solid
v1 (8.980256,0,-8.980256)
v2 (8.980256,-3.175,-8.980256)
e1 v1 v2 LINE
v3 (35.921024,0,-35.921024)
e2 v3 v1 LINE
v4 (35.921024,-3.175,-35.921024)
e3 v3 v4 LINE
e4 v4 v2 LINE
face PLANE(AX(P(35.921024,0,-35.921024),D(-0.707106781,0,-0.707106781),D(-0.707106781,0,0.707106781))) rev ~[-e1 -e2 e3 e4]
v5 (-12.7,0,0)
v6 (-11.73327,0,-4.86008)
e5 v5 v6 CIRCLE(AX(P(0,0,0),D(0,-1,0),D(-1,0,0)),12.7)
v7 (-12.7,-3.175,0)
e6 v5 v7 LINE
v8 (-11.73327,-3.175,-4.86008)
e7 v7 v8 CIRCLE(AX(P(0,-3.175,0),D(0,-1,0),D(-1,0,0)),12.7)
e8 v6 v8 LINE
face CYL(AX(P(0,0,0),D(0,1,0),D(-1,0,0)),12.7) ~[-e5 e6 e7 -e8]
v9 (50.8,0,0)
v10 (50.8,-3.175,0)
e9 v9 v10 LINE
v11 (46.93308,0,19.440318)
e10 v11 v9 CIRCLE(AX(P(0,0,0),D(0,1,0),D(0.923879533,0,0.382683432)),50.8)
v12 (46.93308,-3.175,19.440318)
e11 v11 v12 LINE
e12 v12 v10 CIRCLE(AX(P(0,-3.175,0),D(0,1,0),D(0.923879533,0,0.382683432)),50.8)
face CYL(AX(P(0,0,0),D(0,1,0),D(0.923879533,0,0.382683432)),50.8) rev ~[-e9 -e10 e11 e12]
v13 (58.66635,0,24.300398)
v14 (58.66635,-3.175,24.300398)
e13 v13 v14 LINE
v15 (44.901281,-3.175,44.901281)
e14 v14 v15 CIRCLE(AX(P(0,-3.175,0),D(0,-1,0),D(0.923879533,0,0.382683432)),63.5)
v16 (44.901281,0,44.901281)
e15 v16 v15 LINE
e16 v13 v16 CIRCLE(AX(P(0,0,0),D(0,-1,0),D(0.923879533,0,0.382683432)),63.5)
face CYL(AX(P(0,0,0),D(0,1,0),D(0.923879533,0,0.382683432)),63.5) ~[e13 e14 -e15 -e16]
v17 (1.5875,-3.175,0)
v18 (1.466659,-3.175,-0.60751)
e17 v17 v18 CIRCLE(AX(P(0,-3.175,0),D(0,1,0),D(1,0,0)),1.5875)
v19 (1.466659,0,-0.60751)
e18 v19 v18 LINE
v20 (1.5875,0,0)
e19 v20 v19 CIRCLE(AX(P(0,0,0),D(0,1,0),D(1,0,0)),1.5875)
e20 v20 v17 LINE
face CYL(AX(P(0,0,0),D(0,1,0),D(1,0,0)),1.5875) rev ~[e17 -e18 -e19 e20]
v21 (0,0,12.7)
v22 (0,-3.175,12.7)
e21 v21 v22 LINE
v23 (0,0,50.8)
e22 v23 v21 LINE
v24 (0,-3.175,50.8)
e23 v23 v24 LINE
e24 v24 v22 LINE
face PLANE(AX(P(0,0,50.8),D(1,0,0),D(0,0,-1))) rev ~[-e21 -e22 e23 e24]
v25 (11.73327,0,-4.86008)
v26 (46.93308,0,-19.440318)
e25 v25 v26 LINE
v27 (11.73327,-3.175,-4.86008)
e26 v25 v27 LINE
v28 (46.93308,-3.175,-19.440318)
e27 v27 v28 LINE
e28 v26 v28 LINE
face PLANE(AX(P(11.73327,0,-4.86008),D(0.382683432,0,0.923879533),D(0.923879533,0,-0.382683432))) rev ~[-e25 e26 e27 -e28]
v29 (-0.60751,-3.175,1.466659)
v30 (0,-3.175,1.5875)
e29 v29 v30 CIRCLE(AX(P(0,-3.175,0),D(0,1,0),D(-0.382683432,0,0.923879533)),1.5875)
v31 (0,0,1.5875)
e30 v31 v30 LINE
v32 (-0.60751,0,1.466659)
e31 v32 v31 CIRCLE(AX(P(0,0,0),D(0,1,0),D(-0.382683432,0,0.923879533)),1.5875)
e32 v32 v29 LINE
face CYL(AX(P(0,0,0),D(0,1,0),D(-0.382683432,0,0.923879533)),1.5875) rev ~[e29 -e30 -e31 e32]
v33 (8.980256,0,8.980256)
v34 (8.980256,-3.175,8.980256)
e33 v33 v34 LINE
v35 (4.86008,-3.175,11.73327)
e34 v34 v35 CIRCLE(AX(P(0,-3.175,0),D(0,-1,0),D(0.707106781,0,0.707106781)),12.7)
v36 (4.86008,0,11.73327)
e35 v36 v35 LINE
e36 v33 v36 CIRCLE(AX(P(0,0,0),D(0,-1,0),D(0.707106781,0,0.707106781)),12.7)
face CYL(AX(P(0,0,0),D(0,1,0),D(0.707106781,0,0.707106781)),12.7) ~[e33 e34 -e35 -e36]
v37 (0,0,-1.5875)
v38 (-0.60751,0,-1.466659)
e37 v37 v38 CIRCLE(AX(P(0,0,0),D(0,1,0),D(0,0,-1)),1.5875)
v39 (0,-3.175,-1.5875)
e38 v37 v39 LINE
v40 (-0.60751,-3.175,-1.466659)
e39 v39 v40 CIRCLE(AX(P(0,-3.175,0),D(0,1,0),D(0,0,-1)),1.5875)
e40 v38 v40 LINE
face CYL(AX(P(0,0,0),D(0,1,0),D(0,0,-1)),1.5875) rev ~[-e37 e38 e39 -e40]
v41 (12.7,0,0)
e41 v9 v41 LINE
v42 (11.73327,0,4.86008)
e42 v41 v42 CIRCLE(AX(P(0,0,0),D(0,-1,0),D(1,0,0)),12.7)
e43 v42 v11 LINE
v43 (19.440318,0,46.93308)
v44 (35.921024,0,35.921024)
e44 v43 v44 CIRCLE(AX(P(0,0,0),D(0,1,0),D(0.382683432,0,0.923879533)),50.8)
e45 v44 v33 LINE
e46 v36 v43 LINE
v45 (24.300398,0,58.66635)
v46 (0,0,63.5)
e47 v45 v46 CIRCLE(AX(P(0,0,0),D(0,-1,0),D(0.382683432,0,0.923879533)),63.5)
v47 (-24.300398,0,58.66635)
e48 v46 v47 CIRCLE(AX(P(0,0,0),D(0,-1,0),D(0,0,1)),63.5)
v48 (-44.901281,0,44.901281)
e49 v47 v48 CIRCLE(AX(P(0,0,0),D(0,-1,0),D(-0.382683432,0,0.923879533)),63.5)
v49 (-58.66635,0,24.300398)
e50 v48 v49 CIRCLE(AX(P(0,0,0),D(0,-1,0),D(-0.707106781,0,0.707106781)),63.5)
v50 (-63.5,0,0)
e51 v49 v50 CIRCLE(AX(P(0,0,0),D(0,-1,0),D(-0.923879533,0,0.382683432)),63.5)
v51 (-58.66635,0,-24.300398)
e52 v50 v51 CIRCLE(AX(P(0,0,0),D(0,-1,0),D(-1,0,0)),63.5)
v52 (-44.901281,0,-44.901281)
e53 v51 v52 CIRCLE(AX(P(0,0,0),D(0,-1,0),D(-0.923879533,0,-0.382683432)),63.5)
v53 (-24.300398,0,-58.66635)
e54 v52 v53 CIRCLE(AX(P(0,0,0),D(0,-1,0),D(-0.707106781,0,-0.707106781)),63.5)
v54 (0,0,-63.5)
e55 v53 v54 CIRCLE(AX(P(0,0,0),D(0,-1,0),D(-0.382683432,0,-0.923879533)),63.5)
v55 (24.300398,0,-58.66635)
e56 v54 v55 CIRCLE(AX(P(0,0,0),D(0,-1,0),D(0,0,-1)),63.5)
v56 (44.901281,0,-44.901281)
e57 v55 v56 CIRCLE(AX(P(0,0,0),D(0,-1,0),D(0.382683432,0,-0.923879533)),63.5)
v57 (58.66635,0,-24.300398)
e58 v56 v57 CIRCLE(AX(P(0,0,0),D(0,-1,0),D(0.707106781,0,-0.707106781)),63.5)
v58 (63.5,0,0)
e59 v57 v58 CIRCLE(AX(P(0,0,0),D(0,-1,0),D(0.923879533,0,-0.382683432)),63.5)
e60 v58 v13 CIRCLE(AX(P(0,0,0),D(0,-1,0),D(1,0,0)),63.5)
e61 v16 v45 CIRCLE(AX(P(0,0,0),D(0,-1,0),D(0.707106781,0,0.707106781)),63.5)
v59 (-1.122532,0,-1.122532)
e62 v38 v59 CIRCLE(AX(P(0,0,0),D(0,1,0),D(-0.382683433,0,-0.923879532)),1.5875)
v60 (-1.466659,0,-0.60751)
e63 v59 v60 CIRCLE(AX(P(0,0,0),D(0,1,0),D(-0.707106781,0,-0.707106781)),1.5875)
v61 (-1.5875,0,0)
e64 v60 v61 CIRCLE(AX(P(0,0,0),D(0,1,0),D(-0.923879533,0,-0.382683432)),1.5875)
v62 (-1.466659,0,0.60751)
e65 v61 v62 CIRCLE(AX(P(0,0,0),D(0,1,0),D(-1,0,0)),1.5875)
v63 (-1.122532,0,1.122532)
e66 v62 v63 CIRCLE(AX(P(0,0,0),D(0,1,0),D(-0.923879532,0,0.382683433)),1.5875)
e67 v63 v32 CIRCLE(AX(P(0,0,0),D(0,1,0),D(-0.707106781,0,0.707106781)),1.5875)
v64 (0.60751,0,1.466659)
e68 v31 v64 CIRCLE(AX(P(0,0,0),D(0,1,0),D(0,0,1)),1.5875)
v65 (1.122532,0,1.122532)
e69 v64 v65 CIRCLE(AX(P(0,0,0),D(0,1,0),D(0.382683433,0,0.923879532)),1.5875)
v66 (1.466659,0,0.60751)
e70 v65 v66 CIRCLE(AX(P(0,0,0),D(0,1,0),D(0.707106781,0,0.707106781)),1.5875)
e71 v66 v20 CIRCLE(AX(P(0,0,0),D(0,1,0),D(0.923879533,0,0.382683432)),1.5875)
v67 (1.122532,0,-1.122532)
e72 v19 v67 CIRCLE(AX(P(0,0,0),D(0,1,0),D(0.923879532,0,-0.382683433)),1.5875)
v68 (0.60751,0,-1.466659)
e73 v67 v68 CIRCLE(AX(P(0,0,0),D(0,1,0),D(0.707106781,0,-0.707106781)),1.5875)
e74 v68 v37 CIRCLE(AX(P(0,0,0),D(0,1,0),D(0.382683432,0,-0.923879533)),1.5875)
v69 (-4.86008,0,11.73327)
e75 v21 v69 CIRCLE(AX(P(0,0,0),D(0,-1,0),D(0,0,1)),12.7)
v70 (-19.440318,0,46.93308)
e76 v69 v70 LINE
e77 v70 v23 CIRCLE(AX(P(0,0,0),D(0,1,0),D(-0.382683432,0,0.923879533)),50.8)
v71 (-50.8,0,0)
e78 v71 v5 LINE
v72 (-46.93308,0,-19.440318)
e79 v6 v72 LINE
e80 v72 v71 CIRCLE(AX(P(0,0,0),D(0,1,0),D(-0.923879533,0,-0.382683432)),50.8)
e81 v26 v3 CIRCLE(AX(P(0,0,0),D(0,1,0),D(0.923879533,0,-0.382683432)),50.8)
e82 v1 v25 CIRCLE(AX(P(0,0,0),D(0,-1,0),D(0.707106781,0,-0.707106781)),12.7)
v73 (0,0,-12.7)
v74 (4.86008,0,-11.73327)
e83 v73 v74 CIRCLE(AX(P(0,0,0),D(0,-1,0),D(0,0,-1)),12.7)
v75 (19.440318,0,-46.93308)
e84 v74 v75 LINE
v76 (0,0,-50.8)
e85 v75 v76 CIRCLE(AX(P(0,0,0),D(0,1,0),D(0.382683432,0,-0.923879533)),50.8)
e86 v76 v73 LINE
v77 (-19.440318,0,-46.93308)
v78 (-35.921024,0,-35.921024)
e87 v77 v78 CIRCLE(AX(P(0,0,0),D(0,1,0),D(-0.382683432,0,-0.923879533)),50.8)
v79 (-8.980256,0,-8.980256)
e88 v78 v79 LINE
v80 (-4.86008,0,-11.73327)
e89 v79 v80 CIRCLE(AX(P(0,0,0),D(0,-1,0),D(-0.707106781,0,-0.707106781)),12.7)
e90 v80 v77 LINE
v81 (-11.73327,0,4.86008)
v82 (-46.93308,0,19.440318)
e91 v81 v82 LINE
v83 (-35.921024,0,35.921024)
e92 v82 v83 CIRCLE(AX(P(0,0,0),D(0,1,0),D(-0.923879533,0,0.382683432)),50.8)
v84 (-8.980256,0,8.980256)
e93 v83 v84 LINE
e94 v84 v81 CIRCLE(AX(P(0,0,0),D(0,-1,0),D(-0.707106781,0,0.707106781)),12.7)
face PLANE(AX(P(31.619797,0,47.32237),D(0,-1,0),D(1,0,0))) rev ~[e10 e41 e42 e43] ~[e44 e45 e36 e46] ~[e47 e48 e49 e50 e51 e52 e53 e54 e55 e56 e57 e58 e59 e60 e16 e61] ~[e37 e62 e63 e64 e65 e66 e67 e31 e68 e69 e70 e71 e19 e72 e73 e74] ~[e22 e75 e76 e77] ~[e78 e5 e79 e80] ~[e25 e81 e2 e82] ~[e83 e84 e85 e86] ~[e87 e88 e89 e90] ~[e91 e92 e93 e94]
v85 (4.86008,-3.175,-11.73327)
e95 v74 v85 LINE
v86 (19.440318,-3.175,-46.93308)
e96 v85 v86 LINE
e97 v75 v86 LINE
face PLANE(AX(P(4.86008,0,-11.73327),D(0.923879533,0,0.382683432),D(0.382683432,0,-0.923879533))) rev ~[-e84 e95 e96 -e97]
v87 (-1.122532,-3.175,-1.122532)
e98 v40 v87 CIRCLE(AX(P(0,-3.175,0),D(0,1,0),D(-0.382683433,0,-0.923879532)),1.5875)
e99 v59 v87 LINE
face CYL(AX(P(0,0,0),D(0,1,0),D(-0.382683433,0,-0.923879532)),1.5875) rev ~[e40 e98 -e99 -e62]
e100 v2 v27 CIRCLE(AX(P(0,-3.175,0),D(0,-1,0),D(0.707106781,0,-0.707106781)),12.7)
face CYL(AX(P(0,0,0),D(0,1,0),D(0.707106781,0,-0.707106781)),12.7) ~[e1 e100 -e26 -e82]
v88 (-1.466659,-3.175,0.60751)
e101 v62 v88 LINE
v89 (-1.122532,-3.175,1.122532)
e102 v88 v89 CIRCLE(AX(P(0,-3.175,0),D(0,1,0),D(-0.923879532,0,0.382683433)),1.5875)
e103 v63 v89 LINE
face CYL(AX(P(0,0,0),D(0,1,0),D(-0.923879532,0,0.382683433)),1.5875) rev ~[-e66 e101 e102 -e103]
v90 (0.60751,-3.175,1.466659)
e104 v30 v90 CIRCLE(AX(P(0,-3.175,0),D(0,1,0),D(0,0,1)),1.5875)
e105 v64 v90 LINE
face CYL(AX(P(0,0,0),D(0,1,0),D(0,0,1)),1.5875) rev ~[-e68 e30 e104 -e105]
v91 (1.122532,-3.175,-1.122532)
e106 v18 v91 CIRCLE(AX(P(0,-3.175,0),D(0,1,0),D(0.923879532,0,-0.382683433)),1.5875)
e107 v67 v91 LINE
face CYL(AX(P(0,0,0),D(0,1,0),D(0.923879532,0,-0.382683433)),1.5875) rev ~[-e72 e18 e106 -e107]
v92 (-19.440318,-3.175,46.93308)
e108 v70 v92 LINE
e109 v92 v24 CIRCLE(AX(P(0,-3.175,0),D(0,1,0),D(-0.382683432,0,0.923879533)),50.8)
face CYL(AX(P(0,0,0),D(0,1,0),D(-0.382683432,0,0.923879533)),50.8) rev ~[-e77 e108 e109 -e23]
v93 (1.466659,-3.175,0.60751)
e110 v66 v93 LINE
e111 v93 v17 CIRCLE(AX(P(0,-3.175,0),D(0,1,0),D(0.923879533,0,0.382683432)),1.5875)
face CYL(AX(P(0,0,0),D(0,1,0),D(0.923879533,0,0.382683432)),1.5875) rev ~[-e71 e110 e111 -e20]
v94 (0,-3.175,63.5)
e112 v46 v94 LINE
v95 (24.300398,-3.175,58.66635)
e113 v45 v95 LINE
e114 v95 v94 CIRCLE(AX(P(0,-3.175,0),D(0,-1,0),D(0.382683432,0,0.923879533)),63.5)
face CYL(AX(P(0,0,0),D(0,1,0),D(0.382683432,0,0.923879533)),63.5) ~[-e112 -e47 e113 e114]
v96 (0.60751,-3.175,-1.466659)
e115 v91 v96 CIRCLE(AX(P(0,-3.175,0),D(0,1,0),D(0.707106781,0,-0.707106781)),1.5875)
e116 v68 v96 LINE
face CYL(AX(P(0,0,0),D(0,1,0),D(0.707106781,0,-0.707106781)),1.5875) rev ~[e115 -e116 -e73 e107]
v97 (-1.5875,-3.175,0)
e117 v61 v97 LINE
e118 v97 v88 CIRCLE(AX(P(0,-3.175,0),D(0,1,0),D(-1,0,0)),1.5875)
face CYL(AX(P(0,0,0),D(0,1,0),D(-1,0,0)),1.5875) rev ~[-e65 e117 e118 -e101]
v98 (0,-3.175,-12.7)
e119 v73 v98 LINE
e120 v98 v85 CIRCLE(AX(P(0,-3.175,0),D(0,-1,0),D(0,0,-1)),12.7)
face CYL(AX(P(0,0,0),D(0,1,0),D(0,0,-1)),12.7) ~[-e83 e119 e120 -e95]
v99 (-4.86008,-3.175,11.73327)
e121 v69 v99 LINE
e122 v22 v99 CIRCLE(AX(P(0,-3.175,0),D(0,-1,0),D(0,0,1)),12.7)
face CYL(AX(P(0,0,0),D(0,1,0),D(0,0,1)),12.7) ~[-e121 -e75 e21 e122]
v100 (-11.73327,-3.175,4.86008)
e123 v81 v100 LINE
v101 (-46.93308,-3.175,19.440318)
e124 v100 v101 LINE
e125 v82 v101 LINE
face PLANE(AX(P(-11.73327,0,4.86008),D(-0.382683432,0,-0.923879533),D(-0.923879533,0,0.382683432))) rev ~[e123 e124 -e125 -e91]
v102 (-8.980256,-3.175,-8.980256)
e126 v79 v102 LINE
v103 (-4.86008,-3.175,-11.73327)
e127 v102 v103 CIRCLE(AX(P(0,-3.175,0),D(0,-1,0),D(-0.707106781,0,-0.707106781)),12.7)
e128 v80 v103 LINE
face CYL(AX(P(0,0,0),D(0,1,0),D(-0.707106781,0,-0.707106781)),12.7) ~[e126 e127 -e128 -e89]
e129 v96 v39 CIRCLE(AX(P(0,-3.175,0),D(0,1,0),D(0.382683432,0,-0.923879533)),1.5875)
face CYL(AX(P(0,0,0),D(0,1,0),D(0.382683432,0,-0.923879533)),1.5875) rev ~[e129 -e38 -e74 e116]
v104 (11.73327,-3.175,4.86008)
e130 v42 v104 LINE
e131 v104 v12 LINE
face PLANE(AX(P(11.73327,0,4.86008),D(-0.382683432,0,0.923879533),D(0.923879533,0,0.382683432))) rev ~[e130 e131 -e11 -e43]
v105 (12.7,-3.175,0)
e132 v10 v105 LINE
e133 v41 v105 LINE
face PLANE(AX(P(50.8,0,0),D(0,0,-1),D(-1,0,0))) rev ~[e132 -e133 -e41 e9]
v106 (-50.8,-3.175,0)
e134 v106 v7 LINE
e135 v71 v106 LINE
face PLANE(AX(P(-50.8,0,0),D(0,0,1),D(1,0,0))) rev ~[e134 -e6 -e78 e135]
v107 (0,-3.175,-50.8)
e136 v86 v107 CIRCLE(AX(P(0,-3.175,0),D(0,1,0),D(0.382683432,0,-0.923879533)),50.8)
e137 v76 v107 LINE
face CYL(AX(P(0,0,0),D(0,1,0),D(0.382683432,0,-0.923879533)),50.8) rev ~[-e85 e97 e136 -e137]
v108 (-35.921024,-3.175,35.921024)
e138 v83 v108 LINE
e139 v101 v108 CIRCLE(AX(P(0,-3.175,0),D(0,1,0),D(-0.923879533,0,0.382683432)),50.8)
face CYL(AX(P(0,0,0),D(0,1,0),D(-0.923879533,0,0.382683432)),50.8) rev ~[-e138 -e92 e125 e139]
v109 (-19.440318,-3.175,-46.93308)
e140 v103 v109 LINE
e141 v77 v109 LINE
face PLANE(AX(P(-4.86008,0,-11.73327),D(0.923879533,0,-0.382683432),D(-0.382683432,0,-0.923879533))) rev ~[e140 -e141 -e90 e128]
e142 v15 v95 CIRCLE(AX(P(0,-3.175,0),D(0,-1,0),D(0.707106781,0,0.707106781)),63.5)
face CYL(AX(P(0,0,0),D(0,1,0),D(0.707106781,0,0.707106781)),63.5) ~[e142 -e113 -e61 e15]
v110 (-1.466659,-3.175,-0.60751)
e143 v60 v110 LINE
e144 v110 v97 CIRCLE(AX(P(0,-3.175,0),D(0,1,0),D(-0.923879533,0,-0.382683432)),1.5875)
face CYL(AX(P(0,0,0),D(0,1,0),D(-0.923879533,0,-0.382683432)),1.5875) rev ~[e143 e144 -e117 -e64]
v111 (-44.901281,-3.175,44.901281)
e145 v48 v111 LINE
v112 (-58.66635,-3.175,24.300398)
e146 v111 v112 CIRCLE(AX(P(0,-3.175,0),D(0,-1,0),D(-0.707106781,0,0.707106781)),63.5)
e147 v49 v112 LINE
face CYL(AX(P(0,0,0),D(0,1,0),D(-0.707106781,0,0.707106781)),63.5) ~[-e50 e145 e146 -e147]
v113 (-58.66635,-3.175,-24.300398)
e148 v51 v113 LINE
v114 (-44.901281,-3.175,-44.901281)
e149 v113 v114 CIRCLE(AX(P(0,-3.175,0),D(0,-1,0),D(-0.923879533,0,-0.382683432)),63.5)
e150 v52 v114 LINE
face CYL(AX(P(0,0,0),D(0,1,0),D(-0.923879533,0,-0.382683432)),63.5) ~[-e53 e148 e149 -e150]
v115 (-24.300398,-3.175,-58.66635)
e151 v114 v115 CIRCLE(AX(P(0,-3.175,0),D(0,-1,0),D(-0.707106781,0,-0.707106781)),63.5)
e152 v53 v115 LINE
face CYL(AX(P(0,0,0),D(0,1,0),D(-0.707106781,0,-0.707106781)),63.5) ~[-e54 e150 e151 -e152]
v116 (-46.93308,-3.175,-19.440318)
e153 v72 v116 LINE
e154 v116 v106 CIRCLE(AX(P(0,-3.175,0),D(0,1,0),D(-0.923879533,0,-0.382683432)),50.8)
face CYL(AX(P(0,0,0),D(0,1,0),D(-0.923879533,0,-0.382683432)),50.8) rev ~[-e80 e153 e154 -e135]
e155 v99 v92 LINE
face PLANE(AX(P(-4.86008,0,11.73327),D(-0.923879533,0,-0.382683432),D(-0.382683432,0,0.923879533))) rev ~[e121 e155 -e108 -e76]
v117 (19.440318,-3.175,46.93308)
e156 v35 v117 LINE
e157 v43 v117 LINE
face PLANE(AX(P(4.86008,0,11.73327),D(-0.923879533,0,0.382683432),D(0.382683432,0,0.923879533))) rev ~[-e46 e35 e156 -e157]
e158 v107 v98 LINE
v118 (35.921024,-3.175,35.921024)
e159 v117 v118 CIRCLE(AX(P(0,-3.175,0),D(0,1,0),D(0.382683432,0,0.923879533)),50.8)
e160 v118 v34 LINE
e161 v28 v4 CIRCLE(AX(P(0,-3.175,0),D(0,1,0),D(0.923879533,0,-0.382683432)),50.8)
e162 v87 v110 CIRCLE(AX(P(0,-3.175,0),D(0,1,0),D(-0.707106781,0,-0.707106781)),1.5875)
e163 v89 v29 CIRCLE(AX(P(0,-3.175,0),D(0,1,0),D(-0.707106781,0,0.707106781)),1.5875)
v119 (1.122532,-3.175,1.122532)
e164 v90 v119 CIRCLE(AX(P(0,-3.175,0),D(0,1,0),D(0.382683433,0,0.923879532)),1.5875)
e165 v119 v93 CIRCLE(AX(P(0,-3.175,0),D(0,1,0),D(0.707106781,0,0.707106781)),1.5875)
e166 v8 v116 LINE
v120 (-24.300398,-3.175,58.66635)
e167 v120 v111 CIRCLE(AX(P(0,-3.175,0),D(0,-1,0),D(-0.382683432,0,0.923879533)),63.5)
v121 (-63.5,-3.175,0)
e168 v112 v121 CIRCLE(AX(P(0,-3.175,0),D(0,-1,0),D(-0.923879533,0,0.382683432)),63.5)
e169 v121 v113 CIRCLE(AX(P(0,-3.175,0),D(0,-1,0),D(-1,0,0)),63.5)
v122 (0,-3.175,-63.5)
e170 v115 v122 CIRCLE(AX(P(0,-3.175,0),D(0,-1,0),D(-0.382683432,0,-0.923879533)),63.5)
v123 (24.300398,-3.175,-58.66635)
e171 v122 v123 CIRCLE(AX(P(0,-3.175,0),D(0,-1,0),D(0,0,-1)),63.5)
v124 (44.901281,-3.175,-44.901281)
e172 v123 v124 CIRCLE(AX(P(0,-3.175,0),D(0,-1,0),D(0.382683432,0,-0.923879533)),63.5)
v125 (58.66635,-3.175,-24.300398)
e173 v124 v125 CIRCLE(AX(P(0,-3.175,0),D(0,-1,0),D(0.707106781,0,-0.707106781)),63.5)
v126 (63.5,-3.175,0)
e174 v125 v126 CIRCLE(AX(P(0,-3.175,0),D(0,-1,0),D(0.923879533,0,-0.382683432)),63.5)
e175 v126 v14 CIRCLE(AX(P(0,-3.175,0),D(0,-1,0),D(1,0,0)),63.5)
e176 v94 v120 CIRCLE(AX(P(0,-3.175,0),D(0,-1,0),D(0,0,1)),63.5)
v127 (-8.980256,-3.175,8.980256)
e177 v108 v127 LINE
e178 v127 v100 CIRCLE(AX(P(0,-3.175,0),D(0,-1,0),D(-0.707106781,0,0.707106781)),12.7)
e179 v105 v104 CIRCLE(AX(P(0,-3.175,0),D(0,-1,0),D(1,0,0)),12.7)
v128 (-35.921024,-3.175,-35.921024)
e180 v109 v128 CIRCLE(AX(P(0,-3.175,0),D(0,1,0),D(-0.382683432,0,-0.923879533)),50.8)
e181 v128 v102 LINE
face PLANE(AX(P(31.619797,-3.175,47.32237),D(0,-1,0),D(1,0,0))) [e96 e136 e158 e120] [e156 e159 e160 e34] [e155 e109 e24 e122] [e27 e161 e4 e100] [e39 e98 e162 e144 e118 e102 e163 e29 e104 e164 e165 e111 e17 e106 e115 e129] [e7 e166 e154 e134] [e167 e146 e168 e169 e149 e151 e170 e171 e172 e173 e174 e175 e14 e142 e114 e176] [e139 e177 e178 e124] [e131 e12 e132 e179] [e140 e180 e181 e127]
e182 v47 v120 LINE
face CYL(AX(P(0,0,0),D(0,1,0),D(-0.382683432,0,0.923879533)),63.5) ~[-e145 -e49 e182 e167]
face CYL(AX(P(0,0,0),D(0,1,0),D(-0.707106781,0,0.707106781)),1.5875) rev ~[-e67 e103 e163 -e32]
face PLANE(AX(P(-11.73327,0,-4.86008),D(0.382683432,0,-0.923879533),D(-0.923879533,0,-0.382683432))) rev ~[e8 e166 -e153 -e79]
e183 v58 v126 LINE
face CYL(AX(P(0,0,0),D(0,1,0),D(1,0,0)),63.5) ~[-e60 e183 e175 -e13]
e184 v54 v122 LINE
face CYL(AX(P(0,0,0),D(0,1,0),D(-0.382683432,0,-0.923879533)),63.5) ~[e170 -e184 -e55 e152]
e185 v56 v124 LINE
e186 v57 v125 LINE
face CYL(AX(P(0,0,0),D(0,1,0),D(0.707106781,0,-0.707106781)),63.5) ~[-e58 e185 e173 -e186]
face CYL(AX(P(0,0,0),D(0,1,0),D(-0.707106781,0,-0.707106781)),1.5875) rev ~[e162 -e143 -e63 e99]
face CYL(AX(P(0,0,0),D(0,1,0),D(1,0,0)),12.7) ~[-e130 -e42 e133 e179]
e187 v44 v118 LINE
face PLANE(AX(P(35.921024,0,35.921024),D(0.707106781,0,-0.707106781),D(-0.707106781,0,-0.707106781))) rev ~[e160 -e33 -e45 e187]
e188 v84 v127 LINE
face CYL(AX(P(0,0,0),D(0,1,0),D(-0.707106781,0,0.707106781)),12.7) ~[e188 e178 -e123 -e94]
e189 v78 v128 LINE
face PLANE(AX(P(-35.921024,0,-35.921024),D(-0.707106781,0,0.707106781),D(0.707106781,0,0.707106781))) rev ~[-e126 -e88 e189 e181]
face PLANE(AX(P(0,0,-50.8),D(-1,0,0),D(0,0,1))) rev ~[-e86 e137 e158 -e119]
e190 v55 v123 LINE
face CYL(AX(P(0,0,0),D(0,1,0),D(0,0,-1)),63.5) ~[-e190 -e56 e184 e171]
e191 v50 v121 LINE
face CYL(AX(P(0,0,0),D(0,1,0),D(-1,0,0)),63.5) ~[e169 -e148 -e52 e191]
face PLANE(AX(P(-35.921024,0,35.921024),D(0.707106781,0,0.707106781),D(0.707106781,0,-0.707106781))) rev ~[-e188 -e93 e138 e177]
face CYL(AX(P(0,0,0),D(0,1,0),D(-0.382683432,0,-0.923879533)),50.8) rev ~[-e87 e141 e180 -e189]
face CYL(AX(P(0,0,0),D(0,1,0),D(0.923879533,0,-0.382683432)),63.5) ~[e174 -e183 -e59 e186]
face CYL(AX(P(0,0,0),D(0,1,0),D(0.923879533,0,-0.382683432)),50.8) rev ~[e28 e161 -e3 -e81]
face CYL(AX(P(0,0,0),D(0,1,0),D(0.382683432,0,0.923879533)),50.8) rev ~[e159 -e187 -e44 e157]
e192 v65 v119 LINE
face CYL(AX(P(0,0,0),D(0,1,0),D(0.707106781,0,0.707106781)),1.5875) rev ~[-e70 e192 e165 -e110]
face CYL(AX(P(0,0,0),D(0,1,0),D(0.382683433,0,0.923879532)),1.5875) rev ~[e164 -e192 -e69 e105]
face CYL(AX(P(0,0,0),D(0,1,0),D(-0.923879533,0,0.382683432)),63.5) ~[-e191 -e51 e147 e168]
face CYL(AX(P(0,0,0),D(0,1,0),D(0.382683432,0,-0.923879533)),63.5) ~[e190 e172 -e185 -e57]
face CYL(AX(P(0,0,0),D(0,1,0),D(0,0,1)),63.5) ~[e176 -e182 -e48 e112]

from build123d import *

# Parameters (mm, degrees)
F1_DEPTH = 3.175


with BuildPart() as f1:
    # F0 (on Front) → F1 (new body)
    with BuildSketch(Plane.XZ):
        with BuildLine():
            Line((35.9210244843, 35.9210244843), (44.9012806053, 44.9012806053))
            ThreePointArc((44.9012806053, 44.9012806053), (35.2787097967, 52.7983203812), (24.3003979552, 58.6663503145))
            Line((24.3003979552, 58.6663503145), (19.4403183641, 46.9330802516))
            ThreePointArc((19.4403183641, 46.9330802516), (28.2229678374, 42.238656305), (35.9210244843, 35.9210244843))
        make_face()
        with BuildLine():
            Line((0, 50.8), (0, 63.5))
            ThreePointArc((0, 63.5), (-12.388235448, 62.2798653056), (-24.3003979552, 58.6663503145))
            Line((-24.3003979552, 58.6663503145), (-19.4403183641, 46.9330802516))
            ThreePointArc((-19.4403183641, 46.9330802516), (-9.9105883584, 49.8238922445), (0, 50.8))
        make_face()
        with BuildLine():
            Line((-35.9210244843, 35.9210244843), (-44.9012806053, 44.9012806053))
            ThreePointArc((-44.9012806053, 44.9012806053), (-52.7983203812, 35.2787097967), (-58.6663503145, 24.3003979552))
            Line((-58.6663503145, 24.3003979552), (-46.9330802516, 19.4403183641))
            ThreePointArc((-46.9330802516, 19.4403183641), (-42.238656305, 28.2229678374), (-35.9210244843, 35.9210244843))
        make_face()
        with BuildLine():
            Line((50.8, 0), (63.5, 0))
            ThreePointArc((63.5, 0), (62.2798653056, 12.388235448), (58.6663503145, 24.3003979552))
            Line((58.6663503145, 24.3003979552), (46.9330802516, 19.4403183641))
            ThreePointArc((46.9330802516, 19.4403183641), (49.8238922445, 9.9105883584), (50.8, 0))
        make_face()
        with BuildLine():
            ThreePointArc((-44.9012806053, -44.9012806053), (-35.2787097967, -52.7983203812), (-24.3003979552, -58.6663503145))
            Line((-24.3003979552, -58.6663503145), (-19.4403183641, -46.9330802516))
            ThreePointArc((-19.4403183641, -46.9330802516), (-28.2229678374, -42.238656305), (-35.9210244843, -35.9210244843))
            Line((-35.9210244843, -35.9210244843), (-44.9012806053, -44.9012806053))
        make_face()
        with BuildLine():
            ThreePointArc((0, -63.5), (12.388235448, -62.2798653056), (24.3003979552, -58.6663503145))
            Line((24.3003979552, -58.6663503145), (19.4403183641, -46.9330802516))
            ThreePointArc((19.4403183641, -46.9330802516), (9.9105883584, -49.8238922445), (0, -50.8))
            Line((0, -50.8), (0, -63.5))
        make_face()
        with BuildLine():
            ThreePointArc((44.9012806053, -44.9012806053), (52.7983203812, -35.2787097967), (58.6663503145, -24.3003979552))
            Line((58.6663503145, -24.3003979552), (46.9330802516, -19.4403183641))
            ThreePointArc((46.9330802516, -19.4403183641), (42.238656305, -28.2229678374), (35.9210244843, -35.9210244843))
            Line((35.9210244843, -35.9210244843), (44.9012806053, -44.9012806053))
        make_face()
        with BuildLine():
            Line((-8.9802561211, 8.9802561211), (-1.1225320151, 1.1225320151))
            ThreePointArc((-1.1225320151, 1.1225320151), (-0.8819677449, 1.3199580095), (-0.6075099489, 1.4666587579))
            Line((-0.6075099489, 1.4666587579), (-4.860079591, 11.7332700629))
            ThreePointArc((-4.860079591, 11.7332700629), (-7.0557419593, 10.5596640762), (-8.9802561211, 8.9802561211))
        make_face()
        with BuildLine():
            Line((0.6075099489, 1.4666587579), (4.860079591, 11.7332700629))
            ThreePointArc((4.860079591, 11.7332700629), (2.4776470896, 12.4559730611), (0, 12.7))
            Line((0, 12.7), (0, 1.5875))
            ThreePointArc((0, 1.5875), (0.3097058862, 1.5569966326), (0.6075099489, 1.4666587579))
        make_face()
        with BuildLine():
            Line((1.1225320151, 1.1225320151), (8.9802561211, 8.9802561211))
            ThreePointArc((8.9802561211, 8.9802561211), (7.0557419593, 10.5596640762), (4.860079591, 11.7332700629))
            Line((4.860079591, 11.7332700629), (0.6075099489, 1.4666587579))
            ThreePointArc((0.6075099489, 1.4666587579), (0.8819677449, 1.3199580095), (1.1225320151, 1.1225320151))
        make_face()
        with BuildLine():
            Line((1.4666587579, 0.6075099489), (11.7332700629, 4.860079591))
            ThreePointArc((11.7332700629, 4.860079591), (10.5596640762, 7.0557419593), (8.9802561211, 8.9802561211))
            Line((8.9802561211, 8.9802561211), (1.1225320151, 1.1225320151))
            ThreePointArc((1.1225320151, 1.1225320151), (1.3199580095, 0.8819677449), (1.4666587579, 0.6075099489))
        make_face()
        with BuildLine():
            Line((1.5875, 0), (12.7, 0))
            ThreePointArc((12.7, 0), (12.4559730611, 2.4776470896), (11.7332700629, 4.860079591))
            Line((11.7332700629, 4.860079591), (1.4666587579, 0.6075099489))
            ThreePointArc((1.4666587579, 0.6075099489), (1.5569966326, 0.3097058862), (1.5875, 0))
        make_face()
        with BuildLine():
            ThreePointArc((11.7332700629, -4.860079591), (12.4559730611, -2.4776470896), (12.7, 0))
            Line((12.7, 0), (1.5875, 0))
            ThreePointArc((1.5875, 0), (1.5569966326, -0.3097058862), (1.4666587579, -0.6075099489))
            Line((1.4666587579, -0.6075099489), (11.7332700629, -4.860079591))
        make_face()
        with BuildLine():
            ThreePointArc((4.860079591, -11.7332700629), (7.0557419593, -10.5596640762), (8.9802561211, -8.9802561211))
            Line((8.9802561211, -8.9802561211), (1.1225320151, -1.1225320151))
            ThreePointArc((1.1225320151, -1.1225320151), (0.8819677449, -1.3199580095), (0.6075099489, -1.4666587579))
            Line((0.6075099489, -1.4666587579), (4.860079591, -11.7332700629))
        make_face()
        with BuildLine():
            Line((-8.9802561211, -8.9802561211), (-1.1225320151, -1.1225320151))
            ThreePointArc((-1.1225320151, -1.1225320151), (-1.3199580095, -0.8819677449), (-1.4666587579, -0.6075099489))
            Line((-1.4666587579, -0.6075099489), (-11.7332700629, -4.860079591))
            ThreePointArc((-11.7332700629, -4.860079591), (-10.5596640762, -7.0557419593), (-8.9802561211, -8.9802561211))
        make_face()
        with BuildLine():
            Line((-12.7, 0), (-1.5875, 0))
            ThreePointArc((-1.5875, 0), (-1.5569966326, 0.3097058862), (-1.4666587579, 0.6075099489))
            Line((-1.4666587579, 0.6075099489), (-11.7332700629, 4.860079591))
            ThreePointArc((-11.7332700629, 4.860079591), (-12.4559730611, 2.4776470896), (-12.7, 0))
        make_face()
        with BuildLine():
            ThreePointArc((-1.4666587579, 0.6075099489), (-1.3199580095, 0.8819677449), (-1.1225320151, 1.1225320151))
            Line((-1.1225320151, 1.1225320151), (-8.9802561211, 8.9802561211))
            ThreePointArc((-8.9802561211, 8.9802561211), (-10.5596640762, 7.0557419593), (-11.7332700629, 4.860079591))
            Line((-11.7332700629, 4.860079591), (-1.4666587579, 0.6075099489))
        make_face()
        with BuildLine():
            ThreePointArc((-1.4666587579, -0.6075099489), (-1.5569966326, -0.3097058862), (-1.5875, 0))
            Line((-1.5875, 0), (-12.7, 0))
            ThreePointArc((-12.7, 0), (-12.4559730611, -2.4776470896), (-11.7332700629, -4.860079591))
            Line((-11.7332700629, -4.860079591), (-1.4666587579, -0.6075099489))
        make_face()
        with BuildLine():
            ThreePointArc((-0.6075099489, -1.4666587579), (-0.8819677449, -1.3199580095), (-1.1225320151, -1.1225320151))
            Line((-1.1225320151, -1.1225320151), (-8.9802561211, -8.9802561211))
            ThreePointArc((-8.9802561211, -8.9802561211), (-7.0557419593, -10.5596640762), (-4.860079591, -11.7332700629))
            Line((-4.860079591, -11.7332700629), (-0.6075099489, -1.4666587579))
        make_face()
        with BuildLine():
            Line((0, -12.7), (0, -1.5875))
            ThreePointArc((0, -1.5875), (-0.3097058862, -1.5569966326), (-0.6075099489, -1.4666587579))
            Line((-0.6075099489, -1.4666587579), (-4.860079591, -11.7332700629))
            ThreePointArc((-4.860079591, -11.7332700629), (-2.4776470896, -12.4559730611), (0, -12.7))
        make_face()
        with BuildLine():
            ThreePointArc((0, -12.7), (2.4776470896, -12.4559730611), (4.860079591, -11.7332700629))
            Line((4.860079591, -11.7332700629), (0.6075099489, -1.4666587579))
            ThreePointArc((0.6075099489, -1.4666587579), (0.3097058862, -1.5569966326), (0, -1.5875))
            Line((0, -1.5875), (0, -12.7))
        make_face()
        with BuildLine():
            ThreePointArc((8.9802561211, -8.9802561211), (10.5596640762, -7.0557419593), (11.7332700629, -4.860079591))
            Line((11.7332700629, -4.860079591), (1.4666587579, -0.6075099489))
            ThreePointArc((1.4666587579, -0.6075099489), (1.3199580095, -0.8819677449), (1.1225320151, -1.1225320151))
            Line((1.1225320151, -1.1225320151), (8.9802561211, -8.9802561211))
        make_face()
        with BuildLine():
            ThreePointArc((-0.6075099489, 1.4666587579), (-0.3097058862, 1.5569966326), (0, 1.5875))
            Line((0, 1.5875), (0, 12.7))
            ThreePointArc((0, 12.7), (-2.4776470896, 12.4559730611), (-4.860079591, 11.7332700629))
            Line((-4.860079591, 11.7332700629), (-0.6075099489, 1.4666587579))
        make_face()
        with BuildLine():
            ThreePointArc((-63.5, 0), (-62.2798653056, -12.388235448), (-58.6663503145, -24.3003979552))
            Line((-58.6663503145, -24.3003979552), (-46.9330802516, -19.4403183641))
            ThreePointArc((-46.9330802516, -19.4403183641), (-49.8238922445, -9.9105883584), (-50.8, 0))
            Line((-50.8, 0), (-63.5, 0))
        make_face()
        with BuildLine():
            Line((-19.4403183641, 46.9330802516), (-24.3003979552, 58.6663503145))
            ThreePointArc((-24.3003979552, 58.6663503145), (-35.2787097967, 52.7983203812), (-44.9012806053, 44.9012806053))
            Line((-44.9012806053, 44.9012806053), (-35.9210244843, 35.9210244843))
            ThreePointArc((-35.9210244843, 35.9210244843), (-28.2229678374, 42.238656305), (-19.4403183641, 46.9330802516))
        make_face()
        with BuildLine():
            Line((19.4403183641, 46.9330802516), (24.3003979552, 58.6663503145))
            ThreePointArc((24.3003979552, 58.6663503145), (12.388235448, 62.2798653056), (0, 63.5))
            Line((0, 63.5), (0, 50.8))
            ThreePointArc((0, 50.8), (9.9105883584, 49.8238922445), (19.4403183641, 46.9330802516))
        make_face()
        with BuildLine():
            Line((46.9330802516, 19.4403183641), (58.6663503145, 24.3003979552))
            ThreePointArc((58.6663503145, 24.3003979552), (52.7983203812, 35.2787097967), (44.9012806053, 44.9012806053))
            Line((44.9012806053, 44.9012806053), (35.9210244843, 35.9210244843))
            ThreePointArc((35.9210244843, 35.9210244843), (42.238656305, 28.2229678374), (46.9330802516, 19.4403183641))
        make_face()
        with BuildLine():
            ThreePointArc((24.3003979552, -58.6663503145), (35.2787097967, -52.7983203812), (44.9012806053, -44.9012806053))
            Line((44.9012806053, -44.9012806053), (35.9210244843, -35.9210244843))
            ThreePointArc((35.9210244843, -35.9210244843), (28.2229678374, -42.238656305), (19.4403183641, -46.9330802516))
            Line((19.4403183641, -46.9330802516), (24.3003979552, -58.6663503145))
        make_face()
        with BuildLine():
            ThreePointArc((-24.3003979552, -58.6663503145), (-12.388235448, -62.2798653056), (0, -63.5))
            Line((0, -63.5), (0, -50.8))
            ThreePointArc((0, -50.8), (-9.9105883584, -49.8238922445), (-19.4403183641, -46.9330802516))
            Line((-19.4403183641, -46.9330802516), (-24.3003979552, -58.6663503145))
        make_face()
        with BuildLine():
            ThreePointArc((-58.6663503145, -24.3003979552), (-52.7983203812, -35.2787097967), (-44.9012806053, -44.9012806053))
            Line((-44.9012806053, -44.9012806053), (-35.9210244843, -35.9210244843))
            ThreePointArc((-35.9210244843, -35.9210244843), (-42.238656305, -28.2229678374), (-46.9330802516, -19.4403183641))
            Line((-46.9330802516, -19.4403183641), (-58.6663503145, -24.3003979552))
        make_face()
        with BuildLine():
            ThreePointArc((58.6663503145, -24.3003979552), (62.2798653056, -12.388235448), (63.5, 0))
            Line((63.5, 0), (50.8, 0))
            ThreePointArc((50.8, 0), (49.8238922445, -9.9105883584), (46.9330802516, -19.4403183641))
            Line((46.9330802516, -19.4403183641), (58.6663503145, -24.3003979552))
        make_face()
        with BuildLine():
            Line((-50.8, 0), (-12.7, 0))
            ThreePointArc((-12.7, 0), (-12.4559730611, 2.4776470896), (-11.7332700629, 4.860079591))
            Line((-11.7332700629, 4.860079591), (-46.9330802516, 19.4403183641))
            ThreePointArc((-46.9330802516, 19.4403183641), (-49.8238922445, 9.9105883584), (-50.8, 0))
        make_face()
        with BuildLine():
            Line((-4.860079591, 11.7332700629), (-19.4403183641, 46.9330802516))
            ThreePointArc((-19.4403183641, 46.9330802516), (-28.2229678374, 42.238656305), (-35.9210244843, 35.9210244843))
            Line((-35.9210244843, 35.9210244843), (-8.9802561211, 8.9802561211))
            ThreePointArc((-8.9802561211, 8.9802561211), (-7.0557419593, 10.5596640762), (-4.860079591, 11.7332700629))
        make_face()
        with BuildLine():
            Line((4.860079591, 11.7332700629), (19.4403183641, 46.9330802516))
            ThreePointArc((19.4403183641, 46.9330802516), (9.9105883584, 49.8238922445), (0, 50.8))
            Line((0, 50.8), (0, 12.7))
            ThreePointArc((0, 12.7), (2.4776470896, 12.4559730611), (4.860079591, 11.7332700629))
        make_face()
        with BuildLine():
            Line((11.7332700629, 4.860079591), (46.9330802516, 19.4403183641))
            ThreePointArc((46.9330802516, 19.4403183641), (42.238656305, 28.2229678374), (35.9210244843, 35.9210244843))
            Line((35.9210244843, 35.9210244843), (8.9802561211, 8.9802561211))
            ThreePointArc((8.9802561211, 8.9802561211), (10.5596640762, 7.0557419593), (11.7332700629, 4.860079591))
        make_face()
        with BuildLine():
            ThreePointArc((46.9330802516, -19.4403183641), (49.8238922445, -9.9105883584), (50.8, 0))
            Line((50.8, 0), (12.7, 0))
            ThreePointArc((12.7, 0), (12.4559730611, -2.4776470896), (11.7332700629, -4.860079591))
            Line((11.7332700629, -4.860079591), (46.9330802516, -19.4403183641))
        make_face()
        with BuildLine():
            ThreePointArc((-19.4403183641, -46.9330802516), (-9.9105883584, -49.8238922445), (0, -50.8))
            Line((0, -50.8), (0, -12.7))
            ThreePointArc((0, -12.7), (-2.4776470896, -12.4559730611), (-4.860079591, -11.7332700629))
            Line((-4.860079591, -11.7332700629), (-19.4403183641, -46.9330802516))
        make_face()
        with BuildLine():
            Line((-35.9210244843, -35.9210244843), (-8.9802561211, -8.9802561211))
            ThreePointArc((-8.9802561211, -8.9802561211), (-10.5596640762, -7.0557419593), (-11.7332700629, -4.860079591))
            Line((-11.7332700629, -4.860079591), (-46.9330802516, -19.4403183641))
            ThreePointArc((-46.9330802516, -19.4403183641), (-42.238656305, -28.2229678374), (-35.9210244843, -35.9210244843))
        make_face()
        with BuildLine():
            Line((-46.9330802516, 19.4403183641), (-58.6663503145, 24.3003979552))
            ThreePointArc((-58.6663503145, 24.3003979552), (-62.2798653056, 12.388235448), (-63.5, 0))
            Line((-63.5, 0), (-50.8, 0))
            ThreePointArc((-50.8, 0), (-49.8238922445, 9.9105883584), (-46.9330802516, 19.4403183641))
        make_face()
        with BuildLine():
            ThreePointArc((19.4403183641, -46.9330802516), (28.2229678374, -42.238656305), (35.9210244843, -35.9210244843))
            Line((35.9210244843, -35.9210244843), (8.9802561211, -8.9802561211))
            ThreePointArc((8.9802561211, -8.9802561211), (7.0557419593, -10.5596640762), (4.860079591, -11.7332700629))
            Line((4.860079591, -11.7332700629), (19.4403183641, -46.9330802516))
        make_face()
    extrude(amount=F1_DEPTH)


solid = f1.part
